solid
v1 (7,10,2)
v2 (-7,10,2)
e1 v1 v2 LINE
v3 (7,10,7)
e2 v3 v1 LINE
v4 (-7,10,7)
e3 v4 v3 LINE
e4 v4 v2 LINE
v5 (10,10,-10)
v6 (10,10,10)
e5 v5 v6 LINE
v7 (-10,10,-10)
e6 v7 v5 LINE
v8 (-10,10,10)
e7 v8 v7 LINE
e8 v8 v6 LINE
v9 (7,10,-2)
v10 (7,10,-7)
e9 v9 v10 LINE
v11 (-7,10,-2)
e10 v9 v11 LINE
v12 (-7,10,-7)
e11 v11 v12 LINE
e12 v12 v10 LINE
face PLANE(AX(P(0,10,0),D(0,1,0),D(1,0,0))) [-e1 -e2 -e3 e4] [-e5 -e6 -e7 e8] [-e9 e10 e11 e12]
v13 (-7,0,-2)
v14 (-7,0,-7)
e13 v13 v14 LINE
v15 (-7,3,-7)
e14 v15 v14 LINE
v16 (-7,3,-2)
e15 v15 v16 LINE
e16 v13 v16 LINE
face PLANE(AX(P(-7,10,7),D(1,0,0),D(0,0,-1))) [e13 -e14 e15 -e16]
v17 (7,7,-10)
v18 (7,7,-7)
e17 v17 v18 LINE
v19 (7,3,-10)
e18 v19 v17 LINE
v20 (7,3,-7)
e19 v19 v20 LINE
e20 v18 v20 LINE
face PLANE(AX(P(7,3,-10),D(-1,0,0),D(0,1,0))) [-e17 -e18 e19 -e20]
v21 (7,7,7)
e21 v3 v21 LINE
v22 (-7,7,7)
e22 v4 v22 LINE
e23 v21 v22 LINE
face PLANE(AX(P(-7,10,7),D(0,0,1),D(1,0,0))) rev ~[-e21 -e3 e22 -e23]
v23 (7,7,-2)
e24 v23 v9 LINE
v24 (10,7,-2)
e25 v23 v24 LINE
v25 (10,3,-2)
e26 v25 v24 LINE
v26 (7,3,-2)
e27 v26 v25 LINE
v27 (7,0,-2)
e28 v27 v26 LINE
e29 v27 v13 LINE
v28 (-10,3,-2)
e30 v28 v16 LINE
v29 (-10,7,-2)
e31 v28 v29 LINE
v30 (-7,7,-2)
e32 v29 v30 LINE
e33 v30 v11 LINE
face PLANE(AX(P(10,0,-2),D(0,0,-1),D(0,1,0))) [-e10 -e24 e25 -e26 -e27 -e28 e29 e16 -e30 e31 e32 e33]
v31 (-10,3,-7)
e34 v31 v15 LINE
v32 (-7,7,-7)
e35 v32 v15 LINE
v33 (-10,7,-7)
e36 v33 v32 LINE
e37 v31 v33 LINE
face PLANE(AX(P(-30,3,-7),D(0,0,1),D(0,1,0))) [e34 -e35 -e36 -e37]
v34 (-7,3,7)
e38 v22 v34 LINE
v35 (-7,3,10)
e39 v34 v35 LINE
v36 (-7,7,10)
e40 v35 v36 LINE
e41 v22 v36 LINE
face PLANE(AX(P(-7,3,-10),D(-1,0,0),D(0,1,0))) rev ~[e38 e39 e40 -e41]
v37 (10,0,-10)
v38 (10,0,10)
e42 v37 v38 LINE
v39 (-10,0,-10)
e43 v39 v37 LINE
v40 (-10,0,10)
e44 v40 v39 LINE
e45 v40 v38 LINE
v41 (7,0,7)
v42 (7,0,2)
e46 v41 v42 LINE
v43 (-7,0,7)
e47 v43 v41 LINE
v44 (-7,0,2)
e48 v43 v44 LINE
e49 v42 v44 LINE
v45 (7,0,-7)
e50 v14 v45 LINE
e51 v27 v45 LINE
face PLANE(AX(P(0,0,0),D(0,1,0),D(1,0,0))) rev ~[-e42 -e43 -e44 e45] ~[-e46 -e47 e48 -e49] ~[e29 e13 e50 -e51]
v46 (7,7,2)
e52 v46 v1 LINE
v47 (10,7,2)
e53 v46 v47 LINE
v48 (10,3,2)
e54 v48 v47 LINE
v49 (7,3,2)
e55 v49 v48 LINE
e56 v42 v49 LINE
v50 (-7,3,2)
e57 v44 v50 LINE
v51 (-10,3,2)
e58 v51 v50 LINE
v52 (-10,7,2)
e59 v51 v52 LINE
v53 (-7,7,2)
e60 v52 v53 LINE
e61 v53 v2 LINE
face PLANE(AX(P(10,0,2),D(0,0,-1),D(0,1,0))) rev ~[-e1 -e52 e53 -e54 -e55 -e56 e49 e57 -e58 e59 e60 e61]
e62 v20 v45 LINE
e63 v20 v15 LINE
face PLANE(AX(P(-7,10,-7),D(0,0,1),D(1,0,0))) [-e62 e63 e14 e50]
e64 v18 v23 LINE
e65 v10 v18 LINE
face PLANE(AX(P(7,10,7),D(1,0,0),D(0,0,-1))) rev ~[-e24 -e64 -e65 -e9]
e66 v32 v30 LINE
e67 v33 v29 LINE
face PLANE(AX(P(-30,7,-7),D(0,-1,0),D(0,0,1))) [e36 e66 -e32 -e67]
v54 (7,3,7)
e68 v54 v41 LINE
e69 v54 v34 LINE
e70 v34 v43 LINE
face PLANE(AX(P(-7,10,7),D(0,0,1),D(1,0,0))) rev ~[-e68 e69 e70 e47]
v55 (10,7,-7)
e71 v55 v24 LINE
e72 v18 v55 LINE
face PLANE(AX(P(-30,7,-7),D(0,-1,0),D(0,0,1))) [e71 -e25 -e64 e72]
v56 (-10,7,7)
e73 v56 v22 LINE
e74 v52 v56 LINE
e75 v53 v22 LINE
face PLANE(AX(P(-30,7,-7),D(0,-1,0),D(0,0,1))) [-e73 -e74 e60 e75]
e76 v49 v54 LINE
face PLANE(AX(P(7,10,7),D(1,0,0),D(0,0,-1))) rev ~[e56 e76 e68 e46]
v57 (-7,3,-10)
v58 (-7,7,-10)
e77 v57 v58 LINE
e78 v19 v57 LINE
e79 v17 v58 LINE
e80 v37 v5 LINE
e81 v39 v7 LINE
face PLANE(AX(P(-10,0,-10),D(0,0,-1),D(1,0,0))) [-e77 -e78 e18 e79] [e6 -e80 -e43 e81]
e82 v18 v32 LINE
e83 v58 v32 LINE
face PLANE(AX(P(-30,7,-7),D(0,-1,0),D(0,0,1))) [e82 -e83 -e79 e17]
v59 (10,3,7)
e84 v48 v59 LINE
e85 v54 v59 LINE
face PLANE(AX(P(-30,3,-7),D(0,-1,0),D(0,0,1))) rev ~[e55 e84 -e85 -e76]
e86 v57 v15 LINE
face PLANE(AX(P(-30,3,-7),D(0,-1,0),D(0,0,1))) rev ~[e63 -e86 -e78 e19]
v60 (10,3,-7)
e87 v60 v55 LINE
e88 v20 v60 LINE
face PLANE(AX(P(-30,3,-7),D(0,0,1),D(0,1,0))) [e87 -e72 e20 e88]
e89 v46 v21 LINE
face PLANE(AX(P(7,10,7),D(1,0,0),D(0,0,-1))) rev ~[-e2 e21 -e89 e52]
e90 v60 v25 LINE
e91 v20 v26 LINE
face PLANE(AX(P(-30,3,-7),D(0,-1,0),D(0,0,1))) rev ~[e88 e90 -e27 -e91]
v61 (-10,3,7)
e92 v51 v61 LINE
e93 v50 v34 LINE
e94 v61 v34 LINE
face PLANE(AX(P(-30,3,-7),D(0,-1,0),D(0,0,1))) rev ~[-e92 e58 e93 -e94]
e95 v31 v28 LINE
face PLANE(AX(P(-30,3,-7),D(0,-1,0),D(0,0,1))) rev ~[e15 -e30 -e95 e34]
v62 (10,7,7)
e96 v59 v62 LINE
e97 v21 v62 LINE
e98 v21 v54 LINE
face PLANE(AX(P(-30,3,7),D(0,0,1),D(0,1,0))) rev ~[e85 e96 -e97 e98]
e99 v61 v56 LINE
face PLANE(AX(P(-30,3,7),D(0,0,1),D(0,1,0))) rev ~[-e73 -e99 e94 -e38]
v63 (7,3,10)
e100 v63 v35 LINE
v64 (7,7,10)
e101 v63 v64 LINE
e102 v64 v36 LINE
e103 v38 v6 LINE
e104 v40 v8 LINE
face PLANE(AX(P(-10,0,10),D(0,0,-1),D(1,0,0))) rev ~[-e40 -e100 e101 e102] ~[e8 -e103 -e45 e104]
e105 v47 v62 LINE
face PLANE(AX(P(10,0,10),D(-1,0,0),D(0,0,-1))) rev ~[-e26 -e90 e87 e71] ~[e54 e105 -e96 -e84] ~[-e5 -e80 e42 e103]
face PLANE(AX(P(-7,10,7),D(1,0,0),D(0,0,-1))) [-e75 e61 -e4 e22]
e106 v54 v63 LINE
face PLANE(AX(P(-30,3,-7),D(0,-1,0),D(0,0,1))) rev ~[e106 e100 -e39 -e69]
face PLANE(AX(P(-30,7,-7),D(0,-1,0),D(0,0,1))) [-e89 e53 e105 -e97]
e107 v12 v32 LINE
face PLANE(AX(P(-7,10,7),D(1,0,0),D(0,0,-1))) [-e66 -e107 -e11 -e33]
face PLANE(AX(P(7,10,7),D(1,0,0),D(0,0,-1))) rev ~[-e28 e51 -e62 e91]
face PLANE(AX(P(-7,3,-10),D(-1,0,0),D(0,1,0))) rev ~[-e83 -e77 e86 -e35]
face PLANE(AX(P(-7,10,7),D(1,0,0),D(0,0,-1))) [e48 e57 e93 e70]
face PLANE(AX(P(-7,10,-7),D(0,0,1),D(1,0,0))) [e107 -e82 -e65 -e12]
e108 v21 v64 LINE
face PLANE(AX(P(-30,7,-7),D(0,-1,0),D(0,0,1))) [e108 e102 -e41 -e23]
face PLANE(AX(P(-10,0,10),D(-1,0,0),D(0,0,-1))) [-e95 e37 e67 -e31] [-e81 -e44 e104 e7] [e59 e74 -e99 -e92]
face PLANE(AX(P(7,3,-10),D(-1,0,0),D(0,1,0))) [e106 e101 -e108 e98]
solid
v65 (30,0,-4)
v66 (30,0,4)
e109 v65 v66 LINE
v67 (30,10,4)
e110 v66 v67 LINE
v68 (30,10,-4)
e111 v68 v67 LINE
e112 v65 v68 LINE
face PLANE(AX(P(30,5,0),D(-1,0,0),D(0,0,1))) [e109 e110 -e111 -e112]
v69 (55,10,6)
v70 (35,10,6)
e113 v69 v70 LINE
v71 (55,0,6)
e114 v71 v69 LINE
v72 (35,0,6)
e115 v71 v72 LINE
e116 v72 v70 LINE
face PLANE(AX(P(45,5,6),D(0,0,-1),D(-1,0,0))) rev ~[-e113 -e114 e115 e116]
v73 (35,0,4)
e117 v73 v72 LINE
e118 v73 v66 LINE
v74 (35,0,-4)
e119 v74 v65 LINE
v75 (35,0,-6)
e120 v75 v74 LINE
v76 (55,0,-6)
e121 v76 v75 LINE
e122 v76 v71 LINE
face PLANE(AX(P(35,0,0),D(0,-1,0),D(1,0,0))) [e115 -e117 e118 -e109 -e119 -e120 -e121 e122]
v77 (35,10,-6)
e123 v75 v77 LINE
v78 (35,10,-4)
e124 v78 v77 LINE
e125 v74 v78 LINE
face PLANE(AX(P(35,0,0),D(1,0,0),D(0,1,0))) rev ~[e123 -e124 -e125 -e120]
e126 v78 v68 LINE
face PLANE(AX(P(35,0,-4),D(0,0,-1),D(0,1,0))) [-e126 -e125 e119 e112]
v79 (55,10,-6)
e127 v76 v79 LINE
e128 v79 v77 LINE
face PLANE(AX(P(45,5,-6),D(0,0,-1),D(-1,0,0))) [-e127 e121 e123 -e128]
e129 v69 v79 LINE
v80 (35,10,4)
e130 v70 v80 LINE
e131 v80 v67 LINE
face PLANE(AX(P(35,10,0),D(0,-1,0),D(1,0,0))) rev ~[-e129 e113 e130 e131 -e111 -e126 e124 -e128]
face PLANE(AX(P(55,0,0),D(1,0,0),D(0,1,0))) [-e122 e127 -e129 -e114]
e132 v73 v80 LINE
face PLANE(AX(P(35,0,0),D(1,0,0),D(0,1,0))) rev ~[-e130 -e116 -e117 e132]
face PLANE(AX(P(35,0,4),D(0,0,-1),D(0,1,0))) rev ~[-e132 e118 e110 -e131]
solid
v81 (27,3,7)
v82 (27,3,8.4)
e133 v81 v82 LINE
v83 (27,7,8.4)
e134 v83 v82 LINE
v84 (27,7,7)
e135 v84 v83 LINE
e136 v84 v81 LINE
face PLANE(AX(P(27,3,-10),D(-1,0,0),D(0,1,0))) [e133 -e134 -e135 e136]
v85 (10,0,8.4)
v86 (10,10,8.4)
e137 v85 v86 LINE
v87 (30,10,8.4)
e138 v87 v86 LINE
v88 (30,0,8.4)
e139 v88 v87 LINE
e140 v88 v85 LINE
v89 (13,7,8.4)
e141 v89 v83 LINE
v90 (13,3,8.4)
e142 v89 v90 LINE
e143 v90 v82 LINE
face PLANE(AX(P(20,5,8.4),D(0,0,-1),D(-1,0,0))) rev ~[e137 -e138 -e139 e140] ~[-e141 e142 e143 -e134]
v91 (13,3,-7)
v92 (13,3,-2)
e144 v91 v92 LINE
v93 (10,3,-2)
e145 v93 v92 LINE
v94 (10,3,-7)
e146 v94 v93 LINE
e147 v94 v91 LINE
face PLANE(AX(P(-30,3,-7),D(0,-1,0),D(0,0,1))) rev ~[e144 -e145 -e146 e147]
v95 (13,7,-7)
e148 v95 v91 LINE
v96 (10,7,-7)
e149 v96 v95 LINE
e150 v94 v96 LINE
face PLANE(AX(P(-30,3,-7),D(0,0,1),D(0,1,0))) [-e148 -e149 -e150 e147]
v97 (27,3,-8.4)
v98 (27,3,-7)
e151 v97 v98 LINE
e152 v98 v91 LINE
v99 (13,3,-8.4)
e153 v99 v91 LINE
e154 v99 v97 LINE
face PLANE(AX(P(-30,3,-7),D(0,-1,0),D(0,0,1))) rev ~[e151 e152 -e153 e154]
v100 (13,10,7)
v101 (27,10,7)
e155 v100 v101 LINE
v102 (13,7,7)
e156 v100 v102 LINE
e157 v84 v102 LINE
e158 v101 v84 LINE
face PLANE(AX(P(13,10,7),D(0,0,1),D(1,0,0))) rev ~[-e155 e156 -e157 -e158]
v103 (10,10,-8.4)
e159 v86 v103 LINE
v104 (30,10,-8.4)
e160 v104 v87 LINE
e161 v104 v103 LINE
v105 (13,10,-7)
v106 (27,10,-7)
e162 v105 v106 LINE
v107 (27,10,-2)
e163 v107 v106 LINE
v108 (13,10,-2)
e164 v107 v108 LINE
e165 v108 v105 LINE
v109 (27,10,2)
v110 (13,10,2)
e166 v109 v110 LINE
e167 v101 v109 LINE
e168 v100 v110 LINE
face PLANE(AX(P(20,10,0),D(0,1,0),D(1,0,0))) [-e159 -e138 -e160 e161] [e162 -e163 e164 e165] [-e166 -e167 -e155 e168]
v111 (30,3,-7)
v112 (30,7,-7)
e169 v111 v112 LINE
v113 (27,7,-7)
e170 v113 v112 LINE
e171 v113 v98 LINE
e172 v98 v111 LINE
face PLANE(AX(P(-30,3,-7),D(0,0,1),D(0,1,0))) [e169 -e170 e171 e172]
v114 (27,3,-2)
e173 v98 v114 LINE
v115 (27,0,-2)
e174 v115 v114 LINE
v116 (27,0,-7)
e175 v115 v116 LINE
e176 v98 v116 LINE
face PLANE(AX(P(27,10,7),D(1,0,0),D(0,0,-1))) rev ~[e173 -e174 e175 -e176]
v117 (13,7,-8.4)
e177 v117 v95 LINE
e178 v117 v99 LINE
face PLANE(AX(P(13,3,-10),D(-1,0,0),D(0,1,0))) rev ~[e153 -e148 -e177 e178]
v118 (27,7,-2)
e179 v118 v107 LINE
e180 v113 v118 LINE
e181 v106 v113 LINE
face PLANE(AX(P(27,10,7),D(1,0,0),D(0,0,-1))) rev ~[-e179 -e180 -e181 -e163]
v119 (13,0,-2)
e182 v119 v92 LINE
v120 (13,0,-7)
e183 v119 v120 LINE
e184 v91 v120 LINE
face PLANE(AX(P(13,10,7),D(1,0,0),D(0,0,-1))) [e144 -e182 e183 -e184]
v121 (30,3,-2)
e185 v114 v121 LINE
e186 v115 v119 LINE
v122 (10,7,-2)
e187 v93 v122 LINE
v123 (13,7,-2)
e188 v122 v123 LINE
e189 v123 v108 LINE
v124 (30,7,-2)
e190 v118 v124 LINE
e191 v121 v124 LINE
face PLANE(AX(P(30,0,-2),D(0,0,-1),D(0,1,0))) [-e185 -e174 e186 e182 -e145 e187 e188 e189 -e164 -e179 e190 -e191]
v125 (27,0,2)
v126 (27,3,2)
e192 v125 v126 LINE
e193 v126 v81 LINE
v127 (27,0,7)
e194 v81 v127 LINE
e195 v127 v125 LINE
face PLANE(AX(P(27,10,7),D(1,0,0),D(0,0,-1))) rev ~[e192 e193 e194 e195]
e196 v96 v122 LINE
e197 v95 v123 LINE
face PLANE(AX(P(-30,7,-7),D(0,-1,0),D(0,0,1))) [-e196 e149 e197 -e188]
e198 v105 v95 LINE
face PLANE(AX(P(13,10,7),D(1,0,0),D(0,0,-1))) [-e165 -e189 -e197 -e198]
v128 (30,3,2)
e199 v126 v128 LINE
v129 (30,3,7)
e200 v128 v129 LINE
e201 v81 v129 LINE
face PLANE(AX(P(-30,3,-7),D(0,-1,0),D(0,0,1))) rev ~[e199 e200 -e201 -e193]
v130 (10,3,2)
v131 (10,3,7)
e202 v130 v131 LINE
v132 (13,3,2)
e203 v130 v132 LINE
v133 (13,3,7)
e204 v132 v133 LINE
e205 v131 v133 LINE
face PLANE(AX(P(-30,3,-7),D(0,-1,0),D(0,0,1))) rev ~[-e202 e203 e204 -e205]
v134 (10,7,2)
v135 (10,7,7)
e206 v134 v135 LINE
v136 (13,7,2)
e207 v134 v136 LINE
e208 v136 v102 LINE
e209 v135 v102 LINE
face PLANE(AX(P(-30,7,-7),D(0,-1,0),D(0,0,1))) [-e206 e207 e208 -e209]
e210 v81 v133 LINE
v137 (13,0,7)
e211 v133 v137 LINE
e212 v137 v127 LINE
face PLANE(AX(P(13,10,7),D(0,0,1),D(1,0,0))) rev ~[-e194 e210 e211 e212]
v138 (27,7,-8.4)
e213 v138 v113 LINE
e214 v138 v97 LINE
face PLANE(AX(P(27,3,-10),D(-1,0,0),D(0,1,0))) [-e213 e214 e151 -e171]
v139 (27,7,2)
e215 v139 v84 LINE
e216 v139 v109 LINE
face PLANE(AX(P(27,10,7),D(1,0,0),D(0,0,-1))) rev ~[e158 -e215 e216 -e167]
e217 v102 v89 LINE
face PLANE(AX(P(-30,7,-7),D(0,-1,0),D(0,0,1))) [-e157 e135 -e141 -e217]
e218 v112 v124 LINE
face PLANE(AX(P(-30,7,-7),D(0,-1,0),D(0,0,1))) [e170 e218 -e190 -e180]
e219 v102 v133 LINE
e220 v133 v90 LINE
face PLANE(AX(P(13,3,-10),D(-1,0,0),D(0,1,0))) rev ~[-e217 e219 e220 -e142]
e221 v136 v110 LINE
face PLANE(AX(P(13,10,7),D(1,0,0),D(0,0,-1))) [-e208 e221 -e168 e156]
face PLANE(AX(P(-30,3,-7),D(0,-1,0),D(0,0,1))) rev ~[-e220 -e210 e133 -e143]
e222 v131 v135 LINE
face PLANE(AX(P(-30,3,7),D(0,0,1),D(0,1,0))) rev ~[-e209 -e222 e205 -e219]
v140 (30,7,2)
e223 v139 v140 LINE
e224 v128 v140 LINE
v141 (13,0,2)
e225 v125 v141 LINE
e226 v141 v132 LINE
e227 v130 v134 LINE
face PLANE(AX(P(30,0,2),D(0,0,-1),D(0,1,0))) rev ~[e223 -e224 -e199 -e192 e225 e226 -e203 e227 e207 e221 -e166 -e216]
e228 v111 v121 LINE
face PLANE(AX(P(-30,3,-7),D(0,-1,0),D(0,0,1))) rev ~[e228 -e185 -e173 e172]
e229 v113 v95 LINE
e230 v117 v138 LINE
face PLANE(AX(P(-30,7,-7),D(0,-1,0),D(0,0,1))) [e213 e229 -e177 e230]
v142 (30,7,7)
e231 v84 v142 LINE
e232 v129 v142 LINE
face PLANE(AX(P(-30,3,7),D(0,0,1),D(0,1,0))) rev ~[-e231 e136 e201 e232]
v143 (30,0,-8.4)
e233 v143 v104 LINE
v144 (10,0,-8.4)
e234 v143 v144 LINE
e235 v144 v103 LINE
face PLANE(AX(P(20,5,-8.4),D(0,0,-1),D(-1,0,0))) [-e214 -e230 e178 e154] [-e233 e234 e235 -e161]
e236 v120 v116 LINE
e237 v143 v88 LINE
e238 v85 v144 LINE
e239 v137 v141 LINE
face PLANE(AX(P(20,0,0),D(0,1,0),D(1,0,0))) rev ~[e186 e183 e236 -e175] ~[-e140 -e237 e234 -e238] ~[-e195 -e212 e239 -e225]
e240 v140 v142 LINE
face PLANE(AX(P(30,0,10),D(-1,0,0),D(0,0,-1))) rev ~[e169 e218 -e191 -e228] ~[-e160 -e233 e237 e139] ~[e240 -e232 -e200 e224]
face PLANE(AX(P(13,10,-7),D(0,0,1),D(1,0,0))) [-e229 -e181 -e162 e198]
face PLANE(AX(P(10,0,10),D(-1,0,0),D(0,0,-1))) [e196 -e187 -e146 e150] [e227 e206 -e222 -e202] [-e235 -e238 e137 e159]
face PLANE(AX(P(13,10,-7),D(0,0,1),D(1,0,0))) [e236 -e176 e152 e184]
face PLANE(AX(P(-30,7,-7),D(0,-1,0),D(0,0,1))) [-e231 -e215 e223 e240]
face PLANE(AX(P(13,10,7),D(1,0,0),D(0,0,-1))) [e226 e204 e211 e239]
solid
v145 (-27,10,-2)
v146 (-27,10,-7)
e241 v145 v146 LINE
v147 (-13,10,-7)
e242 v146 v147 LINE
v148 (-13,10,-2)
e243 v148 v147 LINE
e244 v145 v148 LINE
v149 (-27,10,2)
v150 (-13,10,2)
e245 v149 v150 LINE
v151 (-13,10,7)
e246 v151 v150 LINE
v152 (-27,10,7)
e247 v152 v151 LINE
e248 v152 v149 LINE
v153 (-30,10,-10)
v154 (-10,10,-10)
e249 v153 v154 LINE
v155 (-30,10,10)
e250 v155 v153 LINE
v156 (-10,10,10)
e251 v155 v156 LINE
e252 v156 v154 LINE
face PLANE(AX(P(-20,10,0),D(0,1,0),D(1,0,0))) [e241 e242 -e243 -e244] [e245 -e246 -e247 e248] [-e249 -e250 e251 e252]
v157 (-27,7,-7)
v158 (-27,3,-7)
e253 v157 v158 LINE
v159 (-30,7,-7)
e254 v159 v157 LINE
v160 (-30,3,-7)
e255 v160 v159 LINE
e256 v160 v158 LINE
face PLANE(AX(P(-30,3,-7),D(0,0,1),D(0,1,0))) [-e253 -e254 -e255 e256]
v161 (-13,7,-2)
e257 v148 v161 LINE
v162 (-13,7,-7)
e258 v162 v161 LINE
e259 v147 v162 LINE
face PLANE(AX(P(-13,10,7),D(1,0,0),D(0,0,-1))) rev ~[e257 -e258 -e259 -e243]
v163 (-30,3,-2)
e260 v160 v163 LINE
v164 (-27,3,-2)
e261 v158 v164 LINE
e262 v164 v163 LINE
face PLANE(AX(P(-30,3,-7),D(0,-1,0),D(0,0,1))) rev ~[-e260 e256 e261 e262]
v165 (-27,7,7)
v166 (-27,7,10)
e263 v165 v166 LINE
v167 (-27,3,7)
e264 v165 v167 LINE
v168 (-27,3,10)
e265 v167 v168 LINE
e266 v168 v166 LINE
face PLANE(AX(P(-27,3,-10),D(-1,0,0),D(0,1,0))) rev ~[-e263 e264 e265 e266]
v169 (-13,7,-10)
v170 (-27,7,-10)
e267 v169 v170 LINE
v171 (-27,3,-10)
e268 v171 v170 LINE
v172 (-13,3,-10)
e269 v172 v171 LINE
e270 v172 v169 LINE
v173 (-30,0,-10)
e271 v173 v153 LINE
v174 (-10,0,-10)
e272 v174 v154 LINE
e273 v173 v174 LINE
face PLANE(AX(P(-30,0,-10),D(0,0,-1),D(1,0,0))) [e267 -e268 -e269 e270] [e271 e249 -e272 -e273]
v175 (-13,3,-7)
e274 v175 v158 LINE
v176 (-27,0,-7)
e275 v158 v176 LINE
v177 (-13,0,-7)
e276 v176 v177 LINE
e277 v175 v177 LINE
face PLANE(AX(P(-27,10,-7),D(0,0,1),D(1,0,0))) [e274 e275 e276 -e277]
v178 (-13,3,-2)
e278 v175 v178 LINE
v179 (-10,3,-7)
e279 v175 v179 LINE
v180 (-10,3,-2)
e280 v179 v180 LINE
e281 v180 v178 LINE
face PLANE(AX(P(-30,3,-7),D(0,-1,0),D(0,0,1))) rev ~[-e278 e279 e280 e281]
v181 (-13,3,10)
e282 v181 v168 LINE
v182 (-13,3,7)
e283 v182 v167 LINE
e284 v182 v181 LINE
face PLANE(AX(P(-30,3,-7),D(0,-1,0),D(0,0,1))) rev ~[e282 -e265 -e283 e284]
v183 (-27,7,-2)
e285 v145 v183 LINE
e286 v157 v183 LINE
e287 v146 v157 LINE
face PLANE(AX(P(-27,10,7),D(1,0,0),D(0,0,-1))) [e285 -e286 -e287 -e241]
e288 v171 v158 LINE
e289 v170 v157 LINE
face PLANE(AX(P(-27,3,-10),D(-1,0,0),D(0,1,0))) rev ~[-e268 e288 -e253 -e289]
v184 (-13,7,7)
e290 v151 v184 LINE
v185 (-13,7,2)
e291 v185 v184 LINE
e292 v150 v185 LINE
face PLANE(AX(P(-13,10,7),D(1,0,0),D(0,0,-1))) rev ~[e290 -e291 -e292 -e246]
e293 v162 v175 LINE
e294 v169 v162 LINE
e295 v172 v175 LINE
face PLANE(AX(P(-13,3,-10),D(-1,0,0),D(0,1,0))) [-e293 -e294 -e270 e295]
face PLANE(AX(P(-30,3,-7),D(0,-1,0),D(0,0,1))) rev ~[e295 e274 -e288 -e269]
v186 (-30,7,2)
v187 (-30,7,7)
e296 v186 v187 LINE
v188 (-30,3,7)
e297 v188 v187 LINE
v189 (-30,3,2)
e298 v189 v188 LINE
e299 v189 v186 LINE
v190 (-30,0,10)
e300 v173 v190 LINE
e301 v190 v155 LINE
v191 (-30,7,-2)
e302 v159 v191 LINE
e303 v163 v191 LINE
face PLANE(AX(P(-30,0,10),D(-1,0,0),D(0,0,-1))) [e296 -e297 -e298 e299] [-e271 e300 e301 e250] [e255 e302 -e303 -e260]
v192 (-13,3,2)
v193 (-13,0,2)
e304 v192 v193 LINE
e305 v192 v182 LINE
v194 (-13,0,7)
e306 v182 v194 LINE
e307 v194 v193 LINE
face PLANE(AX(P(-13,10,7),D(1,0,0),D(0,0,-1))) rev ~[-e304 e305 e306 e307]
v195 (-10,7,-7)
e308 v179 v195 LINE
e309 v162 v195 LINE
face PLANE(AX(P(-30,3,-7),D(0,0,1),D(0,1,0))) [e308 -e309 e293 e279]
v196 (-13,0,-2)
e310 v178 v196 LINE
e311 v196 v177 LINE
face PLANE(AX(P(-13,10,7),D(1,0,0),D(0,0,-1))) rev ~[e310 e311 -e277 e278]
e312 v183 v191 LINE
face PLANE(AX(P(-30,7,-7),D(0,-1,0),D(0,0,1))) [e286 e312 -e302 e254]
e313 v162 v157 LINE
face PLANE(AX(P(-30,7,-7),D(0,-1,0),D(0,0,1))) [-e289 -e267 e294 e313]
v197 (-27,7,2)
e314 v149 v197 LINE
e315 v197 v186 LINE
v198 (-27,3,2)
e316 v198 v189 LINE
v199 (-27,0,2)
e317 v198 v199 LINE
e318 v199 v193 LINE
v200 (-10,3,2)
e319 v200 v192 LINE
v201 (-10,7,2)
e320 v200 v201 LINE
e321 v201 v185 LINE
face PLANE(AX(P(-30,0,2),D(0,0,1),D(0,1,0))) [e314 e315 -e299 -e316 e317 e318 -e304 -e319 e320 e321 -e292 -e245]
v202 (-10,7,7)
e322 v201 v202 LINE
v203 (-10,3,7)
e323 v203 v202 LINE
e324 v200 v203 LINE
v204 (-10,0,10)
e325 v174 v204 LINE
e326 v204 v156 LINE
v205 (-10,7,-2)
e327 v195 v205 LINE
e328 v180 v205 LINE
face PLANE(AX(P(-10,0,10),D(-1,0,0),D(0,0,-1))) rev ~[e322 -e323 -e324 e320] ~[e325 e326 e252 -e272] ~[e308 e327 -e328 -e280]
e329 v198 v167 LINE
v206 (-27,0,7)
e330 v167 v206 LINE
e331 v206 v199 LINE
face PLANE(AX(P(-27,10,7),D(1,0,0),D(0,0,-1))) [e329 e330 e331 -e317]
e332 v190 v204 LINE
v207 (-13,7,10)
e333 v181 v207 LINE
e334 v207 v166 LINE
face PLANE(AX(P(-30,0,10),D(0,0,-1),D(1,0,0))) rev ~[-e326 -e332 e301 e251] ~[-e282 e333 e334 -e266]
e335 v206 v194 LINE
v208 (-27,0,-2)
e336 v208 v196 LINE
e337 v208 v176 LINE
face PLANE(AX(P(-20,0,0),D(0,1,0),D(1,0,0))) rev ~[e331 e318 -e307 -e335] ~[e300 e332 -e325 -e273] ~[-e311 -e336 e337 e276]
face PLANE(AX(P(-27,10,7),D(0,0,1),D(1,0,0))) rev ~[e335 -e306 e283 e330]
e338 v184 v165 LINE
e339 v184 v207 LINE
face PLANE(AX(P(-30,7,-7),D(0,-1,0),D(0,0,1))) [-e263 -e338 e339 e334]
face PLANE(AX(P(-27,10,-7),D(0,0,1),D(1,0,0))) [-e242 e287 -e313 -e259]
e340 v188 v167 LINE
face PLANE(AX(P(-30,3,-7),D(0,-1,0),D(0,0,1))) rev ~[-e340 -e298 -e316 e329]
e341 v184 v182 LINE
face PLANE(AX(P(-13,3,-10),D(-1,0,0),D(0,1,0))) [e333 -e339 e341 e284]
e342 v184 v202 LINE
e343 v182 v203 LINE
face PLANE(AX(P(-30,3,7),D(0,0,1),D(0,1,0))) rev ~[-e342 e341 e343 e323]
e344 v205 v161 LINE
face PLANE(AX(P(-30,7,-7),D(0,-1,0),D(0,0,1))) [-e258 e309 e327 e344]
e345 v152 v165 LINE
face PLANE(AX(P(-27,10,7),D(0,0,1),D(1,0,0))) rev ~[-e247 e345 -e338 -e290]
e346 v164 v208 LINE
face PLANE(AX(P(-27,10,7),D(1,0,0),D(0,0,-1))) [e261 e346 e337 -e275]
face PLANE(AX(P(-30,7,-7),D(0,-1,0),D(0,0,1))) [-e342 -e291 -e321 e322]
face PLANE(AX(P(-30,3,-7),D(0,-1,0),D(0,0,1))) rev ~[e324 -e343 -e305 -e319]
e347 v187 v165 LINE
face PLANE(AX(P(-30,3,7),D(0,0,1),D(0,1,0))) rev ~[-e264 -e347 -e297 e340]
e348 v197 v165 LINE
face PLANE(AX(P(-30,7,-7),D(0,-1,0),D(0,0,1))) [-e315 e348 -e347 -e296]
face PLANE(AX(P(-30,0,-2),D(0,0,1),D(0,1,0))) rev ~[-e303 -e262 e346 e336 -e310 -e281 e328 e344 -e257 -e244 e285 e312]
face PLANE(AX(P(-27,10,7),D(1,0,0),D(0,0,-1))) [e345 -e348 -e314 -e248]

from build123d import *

# Parameters (mm, degrees)
SKETCH_1_W           = 20
SKETCH_1_H           = 20
EXTRUDE_1_DEPTH      = 10
SKETCH_1_3_W         = 20
SKETCH_1_3_H         = 20
EXTRUDE_2_DEPTH      = 10
SKETCH_1_4_W         = 20
SKETCH_1_4_H         = 20
EXTRUDE_3_DEPTH      = 10
SKETCH_2_W           = 14
SKETCH_2_H           = 4
CUT_EXTRUDE_1_DEPTH  = 61
SKETCH_3_W           = 14
SKETCH_3_H           = 4
CUT_EXTRUDE_2_DEPTH  = 21
SKETCH_4_W           = 14
SKETCH_4_H           = 14
CUT_EXTRUDE_3_DEPTH  = 11
SKETCH_5_W           = 20
SKETCH_5_H           = 10
EXTRUDE_4_DEPTH      = 10
EXTRUDE_4_DEPTH_BACK = 10
SKETCH_6_W           = 8
SKETCH_6_H           = 10
EXTRUDE_5_DEPTH      = 5
SKETCH_7_W           = 20
SKETCH_7_H           = 10
CUT_EXTRUDE_4_DEPTH  = 1.6
CUT_EXTRUDE_START    = -20
SKETCH_7_2_W         = 20
SKETCH_7_2_H         = 10
CUT_EXTRUDE_5_DEPTH  = 1.6
SKETCH_8_W           = 20
SKETCH_8_H           = 10
CUT_EXTRUDE_6_DEPTH  = 4
SKETCH_8_2_W         = 20
SKETCH_8_2_H         = 10
CUT_EXTRUDE_9_DEPTH  = 4
SKETCH_9_W           = 4
SKETCH_9_H           = 10
EXTRUDE_6_DEPTH      = 20
SKETCH_10_W          = 4
SKETCH_10_H          = 10
EXTRUDE_7_DEPTH      = 20
SKETCH_11_W          = 4
SKETCH_11_H          = 10
EXTRUDE_8_DEPTH      = 20


with BuildPart() as part:
    # 草图1 → 凸台-拉伸1 (new body)
    with BuildSketch(Plane(origin=(0, 0, 0), x_dir=(1, 0, 0), z_dir=(0, 1, 0))):
        with Locations((-20, 0)):
            Rectangle(SKETCH_1_W, SKETCH_1_H)
    extrude(amount=EXTRUDE_1_DEPTH)


with BuildPart() as body_2:
    # 草图1<3> → 凸台-拉伸2 (new body)
    with BuildSketch(Plane(origin=(0, 0, 0), x_dir=(1, 0, 0), z_dir=(0, 1, 0))):
        Rectangle(SKETCH_1_3_W, SKETCH_1_3_H)
    extrude(amount=EXTRUDE_2_DEPTH)


with BuildPart() as body_3:
    # 草图1<4> → 凸台-拉伸3 (new body)
    with BuildSketch(Plane(origin=(0, 0, 0), x_dir=(1, 0, 0), z_dir=(0, 1, 0))):
        with Locations((20, 0)):
            Rectangle(SKETCH_1_4_W, SKETCH_1_4_H)
    extrude(amount=EXTRUDE_3_DEPTH)


with BuildPart() as cut_extrude_1_tool:
    # 草图2 → 切除-拉伸1 (new body, through all)
    with BuildSketch(Plane.ZY.offset(30)):
        with Locations((0, 5)):
            Rectangle(SKETCH_2_W, SKETCH_2_H)
    extrude(amount=-CUT_EXTRUDE_1_DEPTH)


with BuildPart() as part_1:
    add(part.part)

    # 切除-拉伸1: cut by cut_extrude_1_tool
    add(cut_extrude_1_tool.part, mode=Mode.SUBTRACT)


with BuildPart() as body_2_1:
    add(body_2.part)

    # 切除-拉伸1: cut by cut_extrude_1_tool
    add(cut_extrude_1_tool.part, mode=Mode.SUBTRACT)


with BuildPart() as body_3_1:
    add(body_3.part)

    # 切除-拉伸1: cut by cut_extrude_1_tool
    add(cut_extrude_1_tool.part, mode=Mode.SUBTRACT)


with BuildPart() as cut_extrude_2_tool:
    # 草图3 → 切除-拉伸2 (new body, through all)
    with BuildSketch(Plane(origin=(0, 0, -10), x_dir=(-1, 0, 0), z_dir=(0, 0, -1))):
        with Locations((-20, 5)):
            Rectangle(SKETCH_3_W, SKETCH_3_H)
        with Locations((0, 5)):
            Rectangle(SKETCH_3_W, SKETCH_3_H)
        with Locations((20, 5)):
            Rectangle(SKETCH_3_W, SKETCH_3_H)
    extrude(amount=-CUT_EXTRUDE_2_DEPTH)


with BuildPart() as part_2:
    add(part_1.part)

    # 切除-拉伸2: cut by cut_extrude_2_tool
    add(cut_extrude_2_tool.part, mode=Mode.SUBTRACT)


with BuildPart() as body_2_2:
    add(body_2_1.part)

    # 切除-拉伸2: cut by cut_extrude_2_tool
    add(cut_extrude_2_tool.part, mode=Mode.SUBTRACT)


with BuildPart() as body_3_2:
    add(body_3_1.part)

    # 切除-拉伸2: cut by cut_extrude_2_tool
    add(cut_extrude_2_tool.part, mode=Mode.SUBTRACT)


with BuildPart() as cut_extrude_3_tool:
    # 草图4 → 切除-拉伸3 (new body, through all)
    with BuildSketch(Plane(origin=(0, 10, 0), x_dir=(1, 0, 0), z_dir=(0, 1, 0))):
        with Locations((-20, 0)):
            Rectangle(SKETCH_4_W, SKETCH_4_H)
        Rectangle(SKETCH_4_W, SKETCH_4_H)
        with Locations((20, 0)):
            Rectangle(SKETCH_4_W, SKETCH_4_H)
    extrude(amount=-CUT_EXTRUDE_3_DEPTH)


with BuildPart() as part_3:
    add(part_2.part)

    # 切除-拉伸3: cut by cut_extrude_3_tool
    add(cut_extrude_3_tool.part, mode=Mode.SUBTRACT)

    # 草图11 → 凸台-拉伸8 (add)
    with BuildSketch(Plane.ZY.offset(30)):
        with Locations((0, 5)):
            Rectangle(SKETCH_11_W, SKETCH_11_H)
    extrude(amount=-EXTRUDE_8_DEPTH)


with BuildPart() as body_2_3:
    add(body_2_2.part)

    # 切除-拉伸3: cut by cut_extrude_3_tool
    add(cut_extrude_3_tool.part, mode=Mode.SUBTRACT)

    # 草图10 → 凸台-拉伸7 (add)
    with BuildSketch(Plane(origin=(10, 0, 0), x_dir=(0, 0, -1), z_dir=(1, 0, 0))):
        with Locations((0, 5)):
            Rectangle(SKETCH_10_W, SKETCH_10_H)
    extrude(amount=-EXTRUDE_7_DEPTH)


with BuildPart() as body_3_3:
    add(body_3_2.part)

    # 切除-拉伸3: cut by cut_extrude_3_tool
    add(cut_extrude_3_tool.part, mode=Mode.SUBTRACT)

    # 草图7 → 切除-拉伸4 (cut)
    with BuildSketch(Plane(origin=(0, 0, -10), x_dir=(-1, 0, 0), z_dir=(0, 0, -1))):
        with Locations((-20, 5)):
            Rectangle(SKETCH_7_W, SKETCH_7_H)
    extrude(amount=-CUT_EXTRUDE_4_DEPTH, mode=Mode.SUBTRACT)

    # 草图7<2> → 切除-拉伸5 (cut)
    with BuildSketch(Plane(origin=(0, 0, -10), x_dir=(-1, 0, 0), z_dir=(0, 0, -1)).offset(CUT_EXTRUDE_START)):
        with Locations((-20, 5)):
            Rectangle(SKETCH_7_2_W, SKETCH_7_2_H)
    extrude(amount=CUT_EXTRUDE_5_DEPTH, mode=Mode.SUBTRACT)

    # 草图9 → 凸台-拉伸6 (add)
    with BuildSketch(Plane.ZY.offset(-30)):
        with Locations((0, 5)):
            Rectangle(SKETCH_9_W, SKETCH_9_H)
    extrude(amount=EXTRUDE_6_DEPTH)


with BuildPart() as body_4:
    # 草图5 → 凸台-拉伸4 (new body, two sides)
    with BuildSketch(Plane.XY) as extrude_4_sk:
        with Locations((45, 5)):
            Rectangle(SKETCH_5_W, SKETCH_5_H)
    extrude(amount=EXTRUDE_4_DEPTH)
    extrude(extrude_4_sk.sketch, amount=-EXTRUDE_4_DEPTH_BACK)

    # 草图6 → 凸台-拉伸5 (add)
    with BuildSketch(Plane.ZY.offset(-35)):
        with Locations((0, 5)):
            Rectangle(SKETCH_6_W, SKETCH_6_H)
    extrude(amount=EXTRUDE_5_DEPTH)

    # 草图8 → 切除-拉伸6 (cut)
    with BuildSketch(Plane(origin=(0, 0, -10), x_dir=(-1, 0, 0), z_dir=(0, 0, -1))):
        with Locations((-45, 5)):
            Rectangle(SKETCH_8_W, SKETCH_8_H)
    extrude(amount=-CUT_EXTRUDE_6_DEPTH, mode=Mode.SUBTRACT)

    # 草图8<2> → 切除-拉伸9 (cut)
    with BuildSketch(Plane(origin=(0, 0, -10), x_dir=(-1, 0, 0), z_dir=(0, 0, -1)).offset(CUT_EXTRUDE_START)):
        with Locations((-45, 5)):
            Rectangle(SKETCH_8_2_W, SKETCH_8_2_H)
    extrude(amount=CUT_EXTRUDE_9_DEPTH, mode=Mode.SUBTRACT)


solid = Compound([part_3.part, body_2_3.part, body_3_3.part, body_4.part])
